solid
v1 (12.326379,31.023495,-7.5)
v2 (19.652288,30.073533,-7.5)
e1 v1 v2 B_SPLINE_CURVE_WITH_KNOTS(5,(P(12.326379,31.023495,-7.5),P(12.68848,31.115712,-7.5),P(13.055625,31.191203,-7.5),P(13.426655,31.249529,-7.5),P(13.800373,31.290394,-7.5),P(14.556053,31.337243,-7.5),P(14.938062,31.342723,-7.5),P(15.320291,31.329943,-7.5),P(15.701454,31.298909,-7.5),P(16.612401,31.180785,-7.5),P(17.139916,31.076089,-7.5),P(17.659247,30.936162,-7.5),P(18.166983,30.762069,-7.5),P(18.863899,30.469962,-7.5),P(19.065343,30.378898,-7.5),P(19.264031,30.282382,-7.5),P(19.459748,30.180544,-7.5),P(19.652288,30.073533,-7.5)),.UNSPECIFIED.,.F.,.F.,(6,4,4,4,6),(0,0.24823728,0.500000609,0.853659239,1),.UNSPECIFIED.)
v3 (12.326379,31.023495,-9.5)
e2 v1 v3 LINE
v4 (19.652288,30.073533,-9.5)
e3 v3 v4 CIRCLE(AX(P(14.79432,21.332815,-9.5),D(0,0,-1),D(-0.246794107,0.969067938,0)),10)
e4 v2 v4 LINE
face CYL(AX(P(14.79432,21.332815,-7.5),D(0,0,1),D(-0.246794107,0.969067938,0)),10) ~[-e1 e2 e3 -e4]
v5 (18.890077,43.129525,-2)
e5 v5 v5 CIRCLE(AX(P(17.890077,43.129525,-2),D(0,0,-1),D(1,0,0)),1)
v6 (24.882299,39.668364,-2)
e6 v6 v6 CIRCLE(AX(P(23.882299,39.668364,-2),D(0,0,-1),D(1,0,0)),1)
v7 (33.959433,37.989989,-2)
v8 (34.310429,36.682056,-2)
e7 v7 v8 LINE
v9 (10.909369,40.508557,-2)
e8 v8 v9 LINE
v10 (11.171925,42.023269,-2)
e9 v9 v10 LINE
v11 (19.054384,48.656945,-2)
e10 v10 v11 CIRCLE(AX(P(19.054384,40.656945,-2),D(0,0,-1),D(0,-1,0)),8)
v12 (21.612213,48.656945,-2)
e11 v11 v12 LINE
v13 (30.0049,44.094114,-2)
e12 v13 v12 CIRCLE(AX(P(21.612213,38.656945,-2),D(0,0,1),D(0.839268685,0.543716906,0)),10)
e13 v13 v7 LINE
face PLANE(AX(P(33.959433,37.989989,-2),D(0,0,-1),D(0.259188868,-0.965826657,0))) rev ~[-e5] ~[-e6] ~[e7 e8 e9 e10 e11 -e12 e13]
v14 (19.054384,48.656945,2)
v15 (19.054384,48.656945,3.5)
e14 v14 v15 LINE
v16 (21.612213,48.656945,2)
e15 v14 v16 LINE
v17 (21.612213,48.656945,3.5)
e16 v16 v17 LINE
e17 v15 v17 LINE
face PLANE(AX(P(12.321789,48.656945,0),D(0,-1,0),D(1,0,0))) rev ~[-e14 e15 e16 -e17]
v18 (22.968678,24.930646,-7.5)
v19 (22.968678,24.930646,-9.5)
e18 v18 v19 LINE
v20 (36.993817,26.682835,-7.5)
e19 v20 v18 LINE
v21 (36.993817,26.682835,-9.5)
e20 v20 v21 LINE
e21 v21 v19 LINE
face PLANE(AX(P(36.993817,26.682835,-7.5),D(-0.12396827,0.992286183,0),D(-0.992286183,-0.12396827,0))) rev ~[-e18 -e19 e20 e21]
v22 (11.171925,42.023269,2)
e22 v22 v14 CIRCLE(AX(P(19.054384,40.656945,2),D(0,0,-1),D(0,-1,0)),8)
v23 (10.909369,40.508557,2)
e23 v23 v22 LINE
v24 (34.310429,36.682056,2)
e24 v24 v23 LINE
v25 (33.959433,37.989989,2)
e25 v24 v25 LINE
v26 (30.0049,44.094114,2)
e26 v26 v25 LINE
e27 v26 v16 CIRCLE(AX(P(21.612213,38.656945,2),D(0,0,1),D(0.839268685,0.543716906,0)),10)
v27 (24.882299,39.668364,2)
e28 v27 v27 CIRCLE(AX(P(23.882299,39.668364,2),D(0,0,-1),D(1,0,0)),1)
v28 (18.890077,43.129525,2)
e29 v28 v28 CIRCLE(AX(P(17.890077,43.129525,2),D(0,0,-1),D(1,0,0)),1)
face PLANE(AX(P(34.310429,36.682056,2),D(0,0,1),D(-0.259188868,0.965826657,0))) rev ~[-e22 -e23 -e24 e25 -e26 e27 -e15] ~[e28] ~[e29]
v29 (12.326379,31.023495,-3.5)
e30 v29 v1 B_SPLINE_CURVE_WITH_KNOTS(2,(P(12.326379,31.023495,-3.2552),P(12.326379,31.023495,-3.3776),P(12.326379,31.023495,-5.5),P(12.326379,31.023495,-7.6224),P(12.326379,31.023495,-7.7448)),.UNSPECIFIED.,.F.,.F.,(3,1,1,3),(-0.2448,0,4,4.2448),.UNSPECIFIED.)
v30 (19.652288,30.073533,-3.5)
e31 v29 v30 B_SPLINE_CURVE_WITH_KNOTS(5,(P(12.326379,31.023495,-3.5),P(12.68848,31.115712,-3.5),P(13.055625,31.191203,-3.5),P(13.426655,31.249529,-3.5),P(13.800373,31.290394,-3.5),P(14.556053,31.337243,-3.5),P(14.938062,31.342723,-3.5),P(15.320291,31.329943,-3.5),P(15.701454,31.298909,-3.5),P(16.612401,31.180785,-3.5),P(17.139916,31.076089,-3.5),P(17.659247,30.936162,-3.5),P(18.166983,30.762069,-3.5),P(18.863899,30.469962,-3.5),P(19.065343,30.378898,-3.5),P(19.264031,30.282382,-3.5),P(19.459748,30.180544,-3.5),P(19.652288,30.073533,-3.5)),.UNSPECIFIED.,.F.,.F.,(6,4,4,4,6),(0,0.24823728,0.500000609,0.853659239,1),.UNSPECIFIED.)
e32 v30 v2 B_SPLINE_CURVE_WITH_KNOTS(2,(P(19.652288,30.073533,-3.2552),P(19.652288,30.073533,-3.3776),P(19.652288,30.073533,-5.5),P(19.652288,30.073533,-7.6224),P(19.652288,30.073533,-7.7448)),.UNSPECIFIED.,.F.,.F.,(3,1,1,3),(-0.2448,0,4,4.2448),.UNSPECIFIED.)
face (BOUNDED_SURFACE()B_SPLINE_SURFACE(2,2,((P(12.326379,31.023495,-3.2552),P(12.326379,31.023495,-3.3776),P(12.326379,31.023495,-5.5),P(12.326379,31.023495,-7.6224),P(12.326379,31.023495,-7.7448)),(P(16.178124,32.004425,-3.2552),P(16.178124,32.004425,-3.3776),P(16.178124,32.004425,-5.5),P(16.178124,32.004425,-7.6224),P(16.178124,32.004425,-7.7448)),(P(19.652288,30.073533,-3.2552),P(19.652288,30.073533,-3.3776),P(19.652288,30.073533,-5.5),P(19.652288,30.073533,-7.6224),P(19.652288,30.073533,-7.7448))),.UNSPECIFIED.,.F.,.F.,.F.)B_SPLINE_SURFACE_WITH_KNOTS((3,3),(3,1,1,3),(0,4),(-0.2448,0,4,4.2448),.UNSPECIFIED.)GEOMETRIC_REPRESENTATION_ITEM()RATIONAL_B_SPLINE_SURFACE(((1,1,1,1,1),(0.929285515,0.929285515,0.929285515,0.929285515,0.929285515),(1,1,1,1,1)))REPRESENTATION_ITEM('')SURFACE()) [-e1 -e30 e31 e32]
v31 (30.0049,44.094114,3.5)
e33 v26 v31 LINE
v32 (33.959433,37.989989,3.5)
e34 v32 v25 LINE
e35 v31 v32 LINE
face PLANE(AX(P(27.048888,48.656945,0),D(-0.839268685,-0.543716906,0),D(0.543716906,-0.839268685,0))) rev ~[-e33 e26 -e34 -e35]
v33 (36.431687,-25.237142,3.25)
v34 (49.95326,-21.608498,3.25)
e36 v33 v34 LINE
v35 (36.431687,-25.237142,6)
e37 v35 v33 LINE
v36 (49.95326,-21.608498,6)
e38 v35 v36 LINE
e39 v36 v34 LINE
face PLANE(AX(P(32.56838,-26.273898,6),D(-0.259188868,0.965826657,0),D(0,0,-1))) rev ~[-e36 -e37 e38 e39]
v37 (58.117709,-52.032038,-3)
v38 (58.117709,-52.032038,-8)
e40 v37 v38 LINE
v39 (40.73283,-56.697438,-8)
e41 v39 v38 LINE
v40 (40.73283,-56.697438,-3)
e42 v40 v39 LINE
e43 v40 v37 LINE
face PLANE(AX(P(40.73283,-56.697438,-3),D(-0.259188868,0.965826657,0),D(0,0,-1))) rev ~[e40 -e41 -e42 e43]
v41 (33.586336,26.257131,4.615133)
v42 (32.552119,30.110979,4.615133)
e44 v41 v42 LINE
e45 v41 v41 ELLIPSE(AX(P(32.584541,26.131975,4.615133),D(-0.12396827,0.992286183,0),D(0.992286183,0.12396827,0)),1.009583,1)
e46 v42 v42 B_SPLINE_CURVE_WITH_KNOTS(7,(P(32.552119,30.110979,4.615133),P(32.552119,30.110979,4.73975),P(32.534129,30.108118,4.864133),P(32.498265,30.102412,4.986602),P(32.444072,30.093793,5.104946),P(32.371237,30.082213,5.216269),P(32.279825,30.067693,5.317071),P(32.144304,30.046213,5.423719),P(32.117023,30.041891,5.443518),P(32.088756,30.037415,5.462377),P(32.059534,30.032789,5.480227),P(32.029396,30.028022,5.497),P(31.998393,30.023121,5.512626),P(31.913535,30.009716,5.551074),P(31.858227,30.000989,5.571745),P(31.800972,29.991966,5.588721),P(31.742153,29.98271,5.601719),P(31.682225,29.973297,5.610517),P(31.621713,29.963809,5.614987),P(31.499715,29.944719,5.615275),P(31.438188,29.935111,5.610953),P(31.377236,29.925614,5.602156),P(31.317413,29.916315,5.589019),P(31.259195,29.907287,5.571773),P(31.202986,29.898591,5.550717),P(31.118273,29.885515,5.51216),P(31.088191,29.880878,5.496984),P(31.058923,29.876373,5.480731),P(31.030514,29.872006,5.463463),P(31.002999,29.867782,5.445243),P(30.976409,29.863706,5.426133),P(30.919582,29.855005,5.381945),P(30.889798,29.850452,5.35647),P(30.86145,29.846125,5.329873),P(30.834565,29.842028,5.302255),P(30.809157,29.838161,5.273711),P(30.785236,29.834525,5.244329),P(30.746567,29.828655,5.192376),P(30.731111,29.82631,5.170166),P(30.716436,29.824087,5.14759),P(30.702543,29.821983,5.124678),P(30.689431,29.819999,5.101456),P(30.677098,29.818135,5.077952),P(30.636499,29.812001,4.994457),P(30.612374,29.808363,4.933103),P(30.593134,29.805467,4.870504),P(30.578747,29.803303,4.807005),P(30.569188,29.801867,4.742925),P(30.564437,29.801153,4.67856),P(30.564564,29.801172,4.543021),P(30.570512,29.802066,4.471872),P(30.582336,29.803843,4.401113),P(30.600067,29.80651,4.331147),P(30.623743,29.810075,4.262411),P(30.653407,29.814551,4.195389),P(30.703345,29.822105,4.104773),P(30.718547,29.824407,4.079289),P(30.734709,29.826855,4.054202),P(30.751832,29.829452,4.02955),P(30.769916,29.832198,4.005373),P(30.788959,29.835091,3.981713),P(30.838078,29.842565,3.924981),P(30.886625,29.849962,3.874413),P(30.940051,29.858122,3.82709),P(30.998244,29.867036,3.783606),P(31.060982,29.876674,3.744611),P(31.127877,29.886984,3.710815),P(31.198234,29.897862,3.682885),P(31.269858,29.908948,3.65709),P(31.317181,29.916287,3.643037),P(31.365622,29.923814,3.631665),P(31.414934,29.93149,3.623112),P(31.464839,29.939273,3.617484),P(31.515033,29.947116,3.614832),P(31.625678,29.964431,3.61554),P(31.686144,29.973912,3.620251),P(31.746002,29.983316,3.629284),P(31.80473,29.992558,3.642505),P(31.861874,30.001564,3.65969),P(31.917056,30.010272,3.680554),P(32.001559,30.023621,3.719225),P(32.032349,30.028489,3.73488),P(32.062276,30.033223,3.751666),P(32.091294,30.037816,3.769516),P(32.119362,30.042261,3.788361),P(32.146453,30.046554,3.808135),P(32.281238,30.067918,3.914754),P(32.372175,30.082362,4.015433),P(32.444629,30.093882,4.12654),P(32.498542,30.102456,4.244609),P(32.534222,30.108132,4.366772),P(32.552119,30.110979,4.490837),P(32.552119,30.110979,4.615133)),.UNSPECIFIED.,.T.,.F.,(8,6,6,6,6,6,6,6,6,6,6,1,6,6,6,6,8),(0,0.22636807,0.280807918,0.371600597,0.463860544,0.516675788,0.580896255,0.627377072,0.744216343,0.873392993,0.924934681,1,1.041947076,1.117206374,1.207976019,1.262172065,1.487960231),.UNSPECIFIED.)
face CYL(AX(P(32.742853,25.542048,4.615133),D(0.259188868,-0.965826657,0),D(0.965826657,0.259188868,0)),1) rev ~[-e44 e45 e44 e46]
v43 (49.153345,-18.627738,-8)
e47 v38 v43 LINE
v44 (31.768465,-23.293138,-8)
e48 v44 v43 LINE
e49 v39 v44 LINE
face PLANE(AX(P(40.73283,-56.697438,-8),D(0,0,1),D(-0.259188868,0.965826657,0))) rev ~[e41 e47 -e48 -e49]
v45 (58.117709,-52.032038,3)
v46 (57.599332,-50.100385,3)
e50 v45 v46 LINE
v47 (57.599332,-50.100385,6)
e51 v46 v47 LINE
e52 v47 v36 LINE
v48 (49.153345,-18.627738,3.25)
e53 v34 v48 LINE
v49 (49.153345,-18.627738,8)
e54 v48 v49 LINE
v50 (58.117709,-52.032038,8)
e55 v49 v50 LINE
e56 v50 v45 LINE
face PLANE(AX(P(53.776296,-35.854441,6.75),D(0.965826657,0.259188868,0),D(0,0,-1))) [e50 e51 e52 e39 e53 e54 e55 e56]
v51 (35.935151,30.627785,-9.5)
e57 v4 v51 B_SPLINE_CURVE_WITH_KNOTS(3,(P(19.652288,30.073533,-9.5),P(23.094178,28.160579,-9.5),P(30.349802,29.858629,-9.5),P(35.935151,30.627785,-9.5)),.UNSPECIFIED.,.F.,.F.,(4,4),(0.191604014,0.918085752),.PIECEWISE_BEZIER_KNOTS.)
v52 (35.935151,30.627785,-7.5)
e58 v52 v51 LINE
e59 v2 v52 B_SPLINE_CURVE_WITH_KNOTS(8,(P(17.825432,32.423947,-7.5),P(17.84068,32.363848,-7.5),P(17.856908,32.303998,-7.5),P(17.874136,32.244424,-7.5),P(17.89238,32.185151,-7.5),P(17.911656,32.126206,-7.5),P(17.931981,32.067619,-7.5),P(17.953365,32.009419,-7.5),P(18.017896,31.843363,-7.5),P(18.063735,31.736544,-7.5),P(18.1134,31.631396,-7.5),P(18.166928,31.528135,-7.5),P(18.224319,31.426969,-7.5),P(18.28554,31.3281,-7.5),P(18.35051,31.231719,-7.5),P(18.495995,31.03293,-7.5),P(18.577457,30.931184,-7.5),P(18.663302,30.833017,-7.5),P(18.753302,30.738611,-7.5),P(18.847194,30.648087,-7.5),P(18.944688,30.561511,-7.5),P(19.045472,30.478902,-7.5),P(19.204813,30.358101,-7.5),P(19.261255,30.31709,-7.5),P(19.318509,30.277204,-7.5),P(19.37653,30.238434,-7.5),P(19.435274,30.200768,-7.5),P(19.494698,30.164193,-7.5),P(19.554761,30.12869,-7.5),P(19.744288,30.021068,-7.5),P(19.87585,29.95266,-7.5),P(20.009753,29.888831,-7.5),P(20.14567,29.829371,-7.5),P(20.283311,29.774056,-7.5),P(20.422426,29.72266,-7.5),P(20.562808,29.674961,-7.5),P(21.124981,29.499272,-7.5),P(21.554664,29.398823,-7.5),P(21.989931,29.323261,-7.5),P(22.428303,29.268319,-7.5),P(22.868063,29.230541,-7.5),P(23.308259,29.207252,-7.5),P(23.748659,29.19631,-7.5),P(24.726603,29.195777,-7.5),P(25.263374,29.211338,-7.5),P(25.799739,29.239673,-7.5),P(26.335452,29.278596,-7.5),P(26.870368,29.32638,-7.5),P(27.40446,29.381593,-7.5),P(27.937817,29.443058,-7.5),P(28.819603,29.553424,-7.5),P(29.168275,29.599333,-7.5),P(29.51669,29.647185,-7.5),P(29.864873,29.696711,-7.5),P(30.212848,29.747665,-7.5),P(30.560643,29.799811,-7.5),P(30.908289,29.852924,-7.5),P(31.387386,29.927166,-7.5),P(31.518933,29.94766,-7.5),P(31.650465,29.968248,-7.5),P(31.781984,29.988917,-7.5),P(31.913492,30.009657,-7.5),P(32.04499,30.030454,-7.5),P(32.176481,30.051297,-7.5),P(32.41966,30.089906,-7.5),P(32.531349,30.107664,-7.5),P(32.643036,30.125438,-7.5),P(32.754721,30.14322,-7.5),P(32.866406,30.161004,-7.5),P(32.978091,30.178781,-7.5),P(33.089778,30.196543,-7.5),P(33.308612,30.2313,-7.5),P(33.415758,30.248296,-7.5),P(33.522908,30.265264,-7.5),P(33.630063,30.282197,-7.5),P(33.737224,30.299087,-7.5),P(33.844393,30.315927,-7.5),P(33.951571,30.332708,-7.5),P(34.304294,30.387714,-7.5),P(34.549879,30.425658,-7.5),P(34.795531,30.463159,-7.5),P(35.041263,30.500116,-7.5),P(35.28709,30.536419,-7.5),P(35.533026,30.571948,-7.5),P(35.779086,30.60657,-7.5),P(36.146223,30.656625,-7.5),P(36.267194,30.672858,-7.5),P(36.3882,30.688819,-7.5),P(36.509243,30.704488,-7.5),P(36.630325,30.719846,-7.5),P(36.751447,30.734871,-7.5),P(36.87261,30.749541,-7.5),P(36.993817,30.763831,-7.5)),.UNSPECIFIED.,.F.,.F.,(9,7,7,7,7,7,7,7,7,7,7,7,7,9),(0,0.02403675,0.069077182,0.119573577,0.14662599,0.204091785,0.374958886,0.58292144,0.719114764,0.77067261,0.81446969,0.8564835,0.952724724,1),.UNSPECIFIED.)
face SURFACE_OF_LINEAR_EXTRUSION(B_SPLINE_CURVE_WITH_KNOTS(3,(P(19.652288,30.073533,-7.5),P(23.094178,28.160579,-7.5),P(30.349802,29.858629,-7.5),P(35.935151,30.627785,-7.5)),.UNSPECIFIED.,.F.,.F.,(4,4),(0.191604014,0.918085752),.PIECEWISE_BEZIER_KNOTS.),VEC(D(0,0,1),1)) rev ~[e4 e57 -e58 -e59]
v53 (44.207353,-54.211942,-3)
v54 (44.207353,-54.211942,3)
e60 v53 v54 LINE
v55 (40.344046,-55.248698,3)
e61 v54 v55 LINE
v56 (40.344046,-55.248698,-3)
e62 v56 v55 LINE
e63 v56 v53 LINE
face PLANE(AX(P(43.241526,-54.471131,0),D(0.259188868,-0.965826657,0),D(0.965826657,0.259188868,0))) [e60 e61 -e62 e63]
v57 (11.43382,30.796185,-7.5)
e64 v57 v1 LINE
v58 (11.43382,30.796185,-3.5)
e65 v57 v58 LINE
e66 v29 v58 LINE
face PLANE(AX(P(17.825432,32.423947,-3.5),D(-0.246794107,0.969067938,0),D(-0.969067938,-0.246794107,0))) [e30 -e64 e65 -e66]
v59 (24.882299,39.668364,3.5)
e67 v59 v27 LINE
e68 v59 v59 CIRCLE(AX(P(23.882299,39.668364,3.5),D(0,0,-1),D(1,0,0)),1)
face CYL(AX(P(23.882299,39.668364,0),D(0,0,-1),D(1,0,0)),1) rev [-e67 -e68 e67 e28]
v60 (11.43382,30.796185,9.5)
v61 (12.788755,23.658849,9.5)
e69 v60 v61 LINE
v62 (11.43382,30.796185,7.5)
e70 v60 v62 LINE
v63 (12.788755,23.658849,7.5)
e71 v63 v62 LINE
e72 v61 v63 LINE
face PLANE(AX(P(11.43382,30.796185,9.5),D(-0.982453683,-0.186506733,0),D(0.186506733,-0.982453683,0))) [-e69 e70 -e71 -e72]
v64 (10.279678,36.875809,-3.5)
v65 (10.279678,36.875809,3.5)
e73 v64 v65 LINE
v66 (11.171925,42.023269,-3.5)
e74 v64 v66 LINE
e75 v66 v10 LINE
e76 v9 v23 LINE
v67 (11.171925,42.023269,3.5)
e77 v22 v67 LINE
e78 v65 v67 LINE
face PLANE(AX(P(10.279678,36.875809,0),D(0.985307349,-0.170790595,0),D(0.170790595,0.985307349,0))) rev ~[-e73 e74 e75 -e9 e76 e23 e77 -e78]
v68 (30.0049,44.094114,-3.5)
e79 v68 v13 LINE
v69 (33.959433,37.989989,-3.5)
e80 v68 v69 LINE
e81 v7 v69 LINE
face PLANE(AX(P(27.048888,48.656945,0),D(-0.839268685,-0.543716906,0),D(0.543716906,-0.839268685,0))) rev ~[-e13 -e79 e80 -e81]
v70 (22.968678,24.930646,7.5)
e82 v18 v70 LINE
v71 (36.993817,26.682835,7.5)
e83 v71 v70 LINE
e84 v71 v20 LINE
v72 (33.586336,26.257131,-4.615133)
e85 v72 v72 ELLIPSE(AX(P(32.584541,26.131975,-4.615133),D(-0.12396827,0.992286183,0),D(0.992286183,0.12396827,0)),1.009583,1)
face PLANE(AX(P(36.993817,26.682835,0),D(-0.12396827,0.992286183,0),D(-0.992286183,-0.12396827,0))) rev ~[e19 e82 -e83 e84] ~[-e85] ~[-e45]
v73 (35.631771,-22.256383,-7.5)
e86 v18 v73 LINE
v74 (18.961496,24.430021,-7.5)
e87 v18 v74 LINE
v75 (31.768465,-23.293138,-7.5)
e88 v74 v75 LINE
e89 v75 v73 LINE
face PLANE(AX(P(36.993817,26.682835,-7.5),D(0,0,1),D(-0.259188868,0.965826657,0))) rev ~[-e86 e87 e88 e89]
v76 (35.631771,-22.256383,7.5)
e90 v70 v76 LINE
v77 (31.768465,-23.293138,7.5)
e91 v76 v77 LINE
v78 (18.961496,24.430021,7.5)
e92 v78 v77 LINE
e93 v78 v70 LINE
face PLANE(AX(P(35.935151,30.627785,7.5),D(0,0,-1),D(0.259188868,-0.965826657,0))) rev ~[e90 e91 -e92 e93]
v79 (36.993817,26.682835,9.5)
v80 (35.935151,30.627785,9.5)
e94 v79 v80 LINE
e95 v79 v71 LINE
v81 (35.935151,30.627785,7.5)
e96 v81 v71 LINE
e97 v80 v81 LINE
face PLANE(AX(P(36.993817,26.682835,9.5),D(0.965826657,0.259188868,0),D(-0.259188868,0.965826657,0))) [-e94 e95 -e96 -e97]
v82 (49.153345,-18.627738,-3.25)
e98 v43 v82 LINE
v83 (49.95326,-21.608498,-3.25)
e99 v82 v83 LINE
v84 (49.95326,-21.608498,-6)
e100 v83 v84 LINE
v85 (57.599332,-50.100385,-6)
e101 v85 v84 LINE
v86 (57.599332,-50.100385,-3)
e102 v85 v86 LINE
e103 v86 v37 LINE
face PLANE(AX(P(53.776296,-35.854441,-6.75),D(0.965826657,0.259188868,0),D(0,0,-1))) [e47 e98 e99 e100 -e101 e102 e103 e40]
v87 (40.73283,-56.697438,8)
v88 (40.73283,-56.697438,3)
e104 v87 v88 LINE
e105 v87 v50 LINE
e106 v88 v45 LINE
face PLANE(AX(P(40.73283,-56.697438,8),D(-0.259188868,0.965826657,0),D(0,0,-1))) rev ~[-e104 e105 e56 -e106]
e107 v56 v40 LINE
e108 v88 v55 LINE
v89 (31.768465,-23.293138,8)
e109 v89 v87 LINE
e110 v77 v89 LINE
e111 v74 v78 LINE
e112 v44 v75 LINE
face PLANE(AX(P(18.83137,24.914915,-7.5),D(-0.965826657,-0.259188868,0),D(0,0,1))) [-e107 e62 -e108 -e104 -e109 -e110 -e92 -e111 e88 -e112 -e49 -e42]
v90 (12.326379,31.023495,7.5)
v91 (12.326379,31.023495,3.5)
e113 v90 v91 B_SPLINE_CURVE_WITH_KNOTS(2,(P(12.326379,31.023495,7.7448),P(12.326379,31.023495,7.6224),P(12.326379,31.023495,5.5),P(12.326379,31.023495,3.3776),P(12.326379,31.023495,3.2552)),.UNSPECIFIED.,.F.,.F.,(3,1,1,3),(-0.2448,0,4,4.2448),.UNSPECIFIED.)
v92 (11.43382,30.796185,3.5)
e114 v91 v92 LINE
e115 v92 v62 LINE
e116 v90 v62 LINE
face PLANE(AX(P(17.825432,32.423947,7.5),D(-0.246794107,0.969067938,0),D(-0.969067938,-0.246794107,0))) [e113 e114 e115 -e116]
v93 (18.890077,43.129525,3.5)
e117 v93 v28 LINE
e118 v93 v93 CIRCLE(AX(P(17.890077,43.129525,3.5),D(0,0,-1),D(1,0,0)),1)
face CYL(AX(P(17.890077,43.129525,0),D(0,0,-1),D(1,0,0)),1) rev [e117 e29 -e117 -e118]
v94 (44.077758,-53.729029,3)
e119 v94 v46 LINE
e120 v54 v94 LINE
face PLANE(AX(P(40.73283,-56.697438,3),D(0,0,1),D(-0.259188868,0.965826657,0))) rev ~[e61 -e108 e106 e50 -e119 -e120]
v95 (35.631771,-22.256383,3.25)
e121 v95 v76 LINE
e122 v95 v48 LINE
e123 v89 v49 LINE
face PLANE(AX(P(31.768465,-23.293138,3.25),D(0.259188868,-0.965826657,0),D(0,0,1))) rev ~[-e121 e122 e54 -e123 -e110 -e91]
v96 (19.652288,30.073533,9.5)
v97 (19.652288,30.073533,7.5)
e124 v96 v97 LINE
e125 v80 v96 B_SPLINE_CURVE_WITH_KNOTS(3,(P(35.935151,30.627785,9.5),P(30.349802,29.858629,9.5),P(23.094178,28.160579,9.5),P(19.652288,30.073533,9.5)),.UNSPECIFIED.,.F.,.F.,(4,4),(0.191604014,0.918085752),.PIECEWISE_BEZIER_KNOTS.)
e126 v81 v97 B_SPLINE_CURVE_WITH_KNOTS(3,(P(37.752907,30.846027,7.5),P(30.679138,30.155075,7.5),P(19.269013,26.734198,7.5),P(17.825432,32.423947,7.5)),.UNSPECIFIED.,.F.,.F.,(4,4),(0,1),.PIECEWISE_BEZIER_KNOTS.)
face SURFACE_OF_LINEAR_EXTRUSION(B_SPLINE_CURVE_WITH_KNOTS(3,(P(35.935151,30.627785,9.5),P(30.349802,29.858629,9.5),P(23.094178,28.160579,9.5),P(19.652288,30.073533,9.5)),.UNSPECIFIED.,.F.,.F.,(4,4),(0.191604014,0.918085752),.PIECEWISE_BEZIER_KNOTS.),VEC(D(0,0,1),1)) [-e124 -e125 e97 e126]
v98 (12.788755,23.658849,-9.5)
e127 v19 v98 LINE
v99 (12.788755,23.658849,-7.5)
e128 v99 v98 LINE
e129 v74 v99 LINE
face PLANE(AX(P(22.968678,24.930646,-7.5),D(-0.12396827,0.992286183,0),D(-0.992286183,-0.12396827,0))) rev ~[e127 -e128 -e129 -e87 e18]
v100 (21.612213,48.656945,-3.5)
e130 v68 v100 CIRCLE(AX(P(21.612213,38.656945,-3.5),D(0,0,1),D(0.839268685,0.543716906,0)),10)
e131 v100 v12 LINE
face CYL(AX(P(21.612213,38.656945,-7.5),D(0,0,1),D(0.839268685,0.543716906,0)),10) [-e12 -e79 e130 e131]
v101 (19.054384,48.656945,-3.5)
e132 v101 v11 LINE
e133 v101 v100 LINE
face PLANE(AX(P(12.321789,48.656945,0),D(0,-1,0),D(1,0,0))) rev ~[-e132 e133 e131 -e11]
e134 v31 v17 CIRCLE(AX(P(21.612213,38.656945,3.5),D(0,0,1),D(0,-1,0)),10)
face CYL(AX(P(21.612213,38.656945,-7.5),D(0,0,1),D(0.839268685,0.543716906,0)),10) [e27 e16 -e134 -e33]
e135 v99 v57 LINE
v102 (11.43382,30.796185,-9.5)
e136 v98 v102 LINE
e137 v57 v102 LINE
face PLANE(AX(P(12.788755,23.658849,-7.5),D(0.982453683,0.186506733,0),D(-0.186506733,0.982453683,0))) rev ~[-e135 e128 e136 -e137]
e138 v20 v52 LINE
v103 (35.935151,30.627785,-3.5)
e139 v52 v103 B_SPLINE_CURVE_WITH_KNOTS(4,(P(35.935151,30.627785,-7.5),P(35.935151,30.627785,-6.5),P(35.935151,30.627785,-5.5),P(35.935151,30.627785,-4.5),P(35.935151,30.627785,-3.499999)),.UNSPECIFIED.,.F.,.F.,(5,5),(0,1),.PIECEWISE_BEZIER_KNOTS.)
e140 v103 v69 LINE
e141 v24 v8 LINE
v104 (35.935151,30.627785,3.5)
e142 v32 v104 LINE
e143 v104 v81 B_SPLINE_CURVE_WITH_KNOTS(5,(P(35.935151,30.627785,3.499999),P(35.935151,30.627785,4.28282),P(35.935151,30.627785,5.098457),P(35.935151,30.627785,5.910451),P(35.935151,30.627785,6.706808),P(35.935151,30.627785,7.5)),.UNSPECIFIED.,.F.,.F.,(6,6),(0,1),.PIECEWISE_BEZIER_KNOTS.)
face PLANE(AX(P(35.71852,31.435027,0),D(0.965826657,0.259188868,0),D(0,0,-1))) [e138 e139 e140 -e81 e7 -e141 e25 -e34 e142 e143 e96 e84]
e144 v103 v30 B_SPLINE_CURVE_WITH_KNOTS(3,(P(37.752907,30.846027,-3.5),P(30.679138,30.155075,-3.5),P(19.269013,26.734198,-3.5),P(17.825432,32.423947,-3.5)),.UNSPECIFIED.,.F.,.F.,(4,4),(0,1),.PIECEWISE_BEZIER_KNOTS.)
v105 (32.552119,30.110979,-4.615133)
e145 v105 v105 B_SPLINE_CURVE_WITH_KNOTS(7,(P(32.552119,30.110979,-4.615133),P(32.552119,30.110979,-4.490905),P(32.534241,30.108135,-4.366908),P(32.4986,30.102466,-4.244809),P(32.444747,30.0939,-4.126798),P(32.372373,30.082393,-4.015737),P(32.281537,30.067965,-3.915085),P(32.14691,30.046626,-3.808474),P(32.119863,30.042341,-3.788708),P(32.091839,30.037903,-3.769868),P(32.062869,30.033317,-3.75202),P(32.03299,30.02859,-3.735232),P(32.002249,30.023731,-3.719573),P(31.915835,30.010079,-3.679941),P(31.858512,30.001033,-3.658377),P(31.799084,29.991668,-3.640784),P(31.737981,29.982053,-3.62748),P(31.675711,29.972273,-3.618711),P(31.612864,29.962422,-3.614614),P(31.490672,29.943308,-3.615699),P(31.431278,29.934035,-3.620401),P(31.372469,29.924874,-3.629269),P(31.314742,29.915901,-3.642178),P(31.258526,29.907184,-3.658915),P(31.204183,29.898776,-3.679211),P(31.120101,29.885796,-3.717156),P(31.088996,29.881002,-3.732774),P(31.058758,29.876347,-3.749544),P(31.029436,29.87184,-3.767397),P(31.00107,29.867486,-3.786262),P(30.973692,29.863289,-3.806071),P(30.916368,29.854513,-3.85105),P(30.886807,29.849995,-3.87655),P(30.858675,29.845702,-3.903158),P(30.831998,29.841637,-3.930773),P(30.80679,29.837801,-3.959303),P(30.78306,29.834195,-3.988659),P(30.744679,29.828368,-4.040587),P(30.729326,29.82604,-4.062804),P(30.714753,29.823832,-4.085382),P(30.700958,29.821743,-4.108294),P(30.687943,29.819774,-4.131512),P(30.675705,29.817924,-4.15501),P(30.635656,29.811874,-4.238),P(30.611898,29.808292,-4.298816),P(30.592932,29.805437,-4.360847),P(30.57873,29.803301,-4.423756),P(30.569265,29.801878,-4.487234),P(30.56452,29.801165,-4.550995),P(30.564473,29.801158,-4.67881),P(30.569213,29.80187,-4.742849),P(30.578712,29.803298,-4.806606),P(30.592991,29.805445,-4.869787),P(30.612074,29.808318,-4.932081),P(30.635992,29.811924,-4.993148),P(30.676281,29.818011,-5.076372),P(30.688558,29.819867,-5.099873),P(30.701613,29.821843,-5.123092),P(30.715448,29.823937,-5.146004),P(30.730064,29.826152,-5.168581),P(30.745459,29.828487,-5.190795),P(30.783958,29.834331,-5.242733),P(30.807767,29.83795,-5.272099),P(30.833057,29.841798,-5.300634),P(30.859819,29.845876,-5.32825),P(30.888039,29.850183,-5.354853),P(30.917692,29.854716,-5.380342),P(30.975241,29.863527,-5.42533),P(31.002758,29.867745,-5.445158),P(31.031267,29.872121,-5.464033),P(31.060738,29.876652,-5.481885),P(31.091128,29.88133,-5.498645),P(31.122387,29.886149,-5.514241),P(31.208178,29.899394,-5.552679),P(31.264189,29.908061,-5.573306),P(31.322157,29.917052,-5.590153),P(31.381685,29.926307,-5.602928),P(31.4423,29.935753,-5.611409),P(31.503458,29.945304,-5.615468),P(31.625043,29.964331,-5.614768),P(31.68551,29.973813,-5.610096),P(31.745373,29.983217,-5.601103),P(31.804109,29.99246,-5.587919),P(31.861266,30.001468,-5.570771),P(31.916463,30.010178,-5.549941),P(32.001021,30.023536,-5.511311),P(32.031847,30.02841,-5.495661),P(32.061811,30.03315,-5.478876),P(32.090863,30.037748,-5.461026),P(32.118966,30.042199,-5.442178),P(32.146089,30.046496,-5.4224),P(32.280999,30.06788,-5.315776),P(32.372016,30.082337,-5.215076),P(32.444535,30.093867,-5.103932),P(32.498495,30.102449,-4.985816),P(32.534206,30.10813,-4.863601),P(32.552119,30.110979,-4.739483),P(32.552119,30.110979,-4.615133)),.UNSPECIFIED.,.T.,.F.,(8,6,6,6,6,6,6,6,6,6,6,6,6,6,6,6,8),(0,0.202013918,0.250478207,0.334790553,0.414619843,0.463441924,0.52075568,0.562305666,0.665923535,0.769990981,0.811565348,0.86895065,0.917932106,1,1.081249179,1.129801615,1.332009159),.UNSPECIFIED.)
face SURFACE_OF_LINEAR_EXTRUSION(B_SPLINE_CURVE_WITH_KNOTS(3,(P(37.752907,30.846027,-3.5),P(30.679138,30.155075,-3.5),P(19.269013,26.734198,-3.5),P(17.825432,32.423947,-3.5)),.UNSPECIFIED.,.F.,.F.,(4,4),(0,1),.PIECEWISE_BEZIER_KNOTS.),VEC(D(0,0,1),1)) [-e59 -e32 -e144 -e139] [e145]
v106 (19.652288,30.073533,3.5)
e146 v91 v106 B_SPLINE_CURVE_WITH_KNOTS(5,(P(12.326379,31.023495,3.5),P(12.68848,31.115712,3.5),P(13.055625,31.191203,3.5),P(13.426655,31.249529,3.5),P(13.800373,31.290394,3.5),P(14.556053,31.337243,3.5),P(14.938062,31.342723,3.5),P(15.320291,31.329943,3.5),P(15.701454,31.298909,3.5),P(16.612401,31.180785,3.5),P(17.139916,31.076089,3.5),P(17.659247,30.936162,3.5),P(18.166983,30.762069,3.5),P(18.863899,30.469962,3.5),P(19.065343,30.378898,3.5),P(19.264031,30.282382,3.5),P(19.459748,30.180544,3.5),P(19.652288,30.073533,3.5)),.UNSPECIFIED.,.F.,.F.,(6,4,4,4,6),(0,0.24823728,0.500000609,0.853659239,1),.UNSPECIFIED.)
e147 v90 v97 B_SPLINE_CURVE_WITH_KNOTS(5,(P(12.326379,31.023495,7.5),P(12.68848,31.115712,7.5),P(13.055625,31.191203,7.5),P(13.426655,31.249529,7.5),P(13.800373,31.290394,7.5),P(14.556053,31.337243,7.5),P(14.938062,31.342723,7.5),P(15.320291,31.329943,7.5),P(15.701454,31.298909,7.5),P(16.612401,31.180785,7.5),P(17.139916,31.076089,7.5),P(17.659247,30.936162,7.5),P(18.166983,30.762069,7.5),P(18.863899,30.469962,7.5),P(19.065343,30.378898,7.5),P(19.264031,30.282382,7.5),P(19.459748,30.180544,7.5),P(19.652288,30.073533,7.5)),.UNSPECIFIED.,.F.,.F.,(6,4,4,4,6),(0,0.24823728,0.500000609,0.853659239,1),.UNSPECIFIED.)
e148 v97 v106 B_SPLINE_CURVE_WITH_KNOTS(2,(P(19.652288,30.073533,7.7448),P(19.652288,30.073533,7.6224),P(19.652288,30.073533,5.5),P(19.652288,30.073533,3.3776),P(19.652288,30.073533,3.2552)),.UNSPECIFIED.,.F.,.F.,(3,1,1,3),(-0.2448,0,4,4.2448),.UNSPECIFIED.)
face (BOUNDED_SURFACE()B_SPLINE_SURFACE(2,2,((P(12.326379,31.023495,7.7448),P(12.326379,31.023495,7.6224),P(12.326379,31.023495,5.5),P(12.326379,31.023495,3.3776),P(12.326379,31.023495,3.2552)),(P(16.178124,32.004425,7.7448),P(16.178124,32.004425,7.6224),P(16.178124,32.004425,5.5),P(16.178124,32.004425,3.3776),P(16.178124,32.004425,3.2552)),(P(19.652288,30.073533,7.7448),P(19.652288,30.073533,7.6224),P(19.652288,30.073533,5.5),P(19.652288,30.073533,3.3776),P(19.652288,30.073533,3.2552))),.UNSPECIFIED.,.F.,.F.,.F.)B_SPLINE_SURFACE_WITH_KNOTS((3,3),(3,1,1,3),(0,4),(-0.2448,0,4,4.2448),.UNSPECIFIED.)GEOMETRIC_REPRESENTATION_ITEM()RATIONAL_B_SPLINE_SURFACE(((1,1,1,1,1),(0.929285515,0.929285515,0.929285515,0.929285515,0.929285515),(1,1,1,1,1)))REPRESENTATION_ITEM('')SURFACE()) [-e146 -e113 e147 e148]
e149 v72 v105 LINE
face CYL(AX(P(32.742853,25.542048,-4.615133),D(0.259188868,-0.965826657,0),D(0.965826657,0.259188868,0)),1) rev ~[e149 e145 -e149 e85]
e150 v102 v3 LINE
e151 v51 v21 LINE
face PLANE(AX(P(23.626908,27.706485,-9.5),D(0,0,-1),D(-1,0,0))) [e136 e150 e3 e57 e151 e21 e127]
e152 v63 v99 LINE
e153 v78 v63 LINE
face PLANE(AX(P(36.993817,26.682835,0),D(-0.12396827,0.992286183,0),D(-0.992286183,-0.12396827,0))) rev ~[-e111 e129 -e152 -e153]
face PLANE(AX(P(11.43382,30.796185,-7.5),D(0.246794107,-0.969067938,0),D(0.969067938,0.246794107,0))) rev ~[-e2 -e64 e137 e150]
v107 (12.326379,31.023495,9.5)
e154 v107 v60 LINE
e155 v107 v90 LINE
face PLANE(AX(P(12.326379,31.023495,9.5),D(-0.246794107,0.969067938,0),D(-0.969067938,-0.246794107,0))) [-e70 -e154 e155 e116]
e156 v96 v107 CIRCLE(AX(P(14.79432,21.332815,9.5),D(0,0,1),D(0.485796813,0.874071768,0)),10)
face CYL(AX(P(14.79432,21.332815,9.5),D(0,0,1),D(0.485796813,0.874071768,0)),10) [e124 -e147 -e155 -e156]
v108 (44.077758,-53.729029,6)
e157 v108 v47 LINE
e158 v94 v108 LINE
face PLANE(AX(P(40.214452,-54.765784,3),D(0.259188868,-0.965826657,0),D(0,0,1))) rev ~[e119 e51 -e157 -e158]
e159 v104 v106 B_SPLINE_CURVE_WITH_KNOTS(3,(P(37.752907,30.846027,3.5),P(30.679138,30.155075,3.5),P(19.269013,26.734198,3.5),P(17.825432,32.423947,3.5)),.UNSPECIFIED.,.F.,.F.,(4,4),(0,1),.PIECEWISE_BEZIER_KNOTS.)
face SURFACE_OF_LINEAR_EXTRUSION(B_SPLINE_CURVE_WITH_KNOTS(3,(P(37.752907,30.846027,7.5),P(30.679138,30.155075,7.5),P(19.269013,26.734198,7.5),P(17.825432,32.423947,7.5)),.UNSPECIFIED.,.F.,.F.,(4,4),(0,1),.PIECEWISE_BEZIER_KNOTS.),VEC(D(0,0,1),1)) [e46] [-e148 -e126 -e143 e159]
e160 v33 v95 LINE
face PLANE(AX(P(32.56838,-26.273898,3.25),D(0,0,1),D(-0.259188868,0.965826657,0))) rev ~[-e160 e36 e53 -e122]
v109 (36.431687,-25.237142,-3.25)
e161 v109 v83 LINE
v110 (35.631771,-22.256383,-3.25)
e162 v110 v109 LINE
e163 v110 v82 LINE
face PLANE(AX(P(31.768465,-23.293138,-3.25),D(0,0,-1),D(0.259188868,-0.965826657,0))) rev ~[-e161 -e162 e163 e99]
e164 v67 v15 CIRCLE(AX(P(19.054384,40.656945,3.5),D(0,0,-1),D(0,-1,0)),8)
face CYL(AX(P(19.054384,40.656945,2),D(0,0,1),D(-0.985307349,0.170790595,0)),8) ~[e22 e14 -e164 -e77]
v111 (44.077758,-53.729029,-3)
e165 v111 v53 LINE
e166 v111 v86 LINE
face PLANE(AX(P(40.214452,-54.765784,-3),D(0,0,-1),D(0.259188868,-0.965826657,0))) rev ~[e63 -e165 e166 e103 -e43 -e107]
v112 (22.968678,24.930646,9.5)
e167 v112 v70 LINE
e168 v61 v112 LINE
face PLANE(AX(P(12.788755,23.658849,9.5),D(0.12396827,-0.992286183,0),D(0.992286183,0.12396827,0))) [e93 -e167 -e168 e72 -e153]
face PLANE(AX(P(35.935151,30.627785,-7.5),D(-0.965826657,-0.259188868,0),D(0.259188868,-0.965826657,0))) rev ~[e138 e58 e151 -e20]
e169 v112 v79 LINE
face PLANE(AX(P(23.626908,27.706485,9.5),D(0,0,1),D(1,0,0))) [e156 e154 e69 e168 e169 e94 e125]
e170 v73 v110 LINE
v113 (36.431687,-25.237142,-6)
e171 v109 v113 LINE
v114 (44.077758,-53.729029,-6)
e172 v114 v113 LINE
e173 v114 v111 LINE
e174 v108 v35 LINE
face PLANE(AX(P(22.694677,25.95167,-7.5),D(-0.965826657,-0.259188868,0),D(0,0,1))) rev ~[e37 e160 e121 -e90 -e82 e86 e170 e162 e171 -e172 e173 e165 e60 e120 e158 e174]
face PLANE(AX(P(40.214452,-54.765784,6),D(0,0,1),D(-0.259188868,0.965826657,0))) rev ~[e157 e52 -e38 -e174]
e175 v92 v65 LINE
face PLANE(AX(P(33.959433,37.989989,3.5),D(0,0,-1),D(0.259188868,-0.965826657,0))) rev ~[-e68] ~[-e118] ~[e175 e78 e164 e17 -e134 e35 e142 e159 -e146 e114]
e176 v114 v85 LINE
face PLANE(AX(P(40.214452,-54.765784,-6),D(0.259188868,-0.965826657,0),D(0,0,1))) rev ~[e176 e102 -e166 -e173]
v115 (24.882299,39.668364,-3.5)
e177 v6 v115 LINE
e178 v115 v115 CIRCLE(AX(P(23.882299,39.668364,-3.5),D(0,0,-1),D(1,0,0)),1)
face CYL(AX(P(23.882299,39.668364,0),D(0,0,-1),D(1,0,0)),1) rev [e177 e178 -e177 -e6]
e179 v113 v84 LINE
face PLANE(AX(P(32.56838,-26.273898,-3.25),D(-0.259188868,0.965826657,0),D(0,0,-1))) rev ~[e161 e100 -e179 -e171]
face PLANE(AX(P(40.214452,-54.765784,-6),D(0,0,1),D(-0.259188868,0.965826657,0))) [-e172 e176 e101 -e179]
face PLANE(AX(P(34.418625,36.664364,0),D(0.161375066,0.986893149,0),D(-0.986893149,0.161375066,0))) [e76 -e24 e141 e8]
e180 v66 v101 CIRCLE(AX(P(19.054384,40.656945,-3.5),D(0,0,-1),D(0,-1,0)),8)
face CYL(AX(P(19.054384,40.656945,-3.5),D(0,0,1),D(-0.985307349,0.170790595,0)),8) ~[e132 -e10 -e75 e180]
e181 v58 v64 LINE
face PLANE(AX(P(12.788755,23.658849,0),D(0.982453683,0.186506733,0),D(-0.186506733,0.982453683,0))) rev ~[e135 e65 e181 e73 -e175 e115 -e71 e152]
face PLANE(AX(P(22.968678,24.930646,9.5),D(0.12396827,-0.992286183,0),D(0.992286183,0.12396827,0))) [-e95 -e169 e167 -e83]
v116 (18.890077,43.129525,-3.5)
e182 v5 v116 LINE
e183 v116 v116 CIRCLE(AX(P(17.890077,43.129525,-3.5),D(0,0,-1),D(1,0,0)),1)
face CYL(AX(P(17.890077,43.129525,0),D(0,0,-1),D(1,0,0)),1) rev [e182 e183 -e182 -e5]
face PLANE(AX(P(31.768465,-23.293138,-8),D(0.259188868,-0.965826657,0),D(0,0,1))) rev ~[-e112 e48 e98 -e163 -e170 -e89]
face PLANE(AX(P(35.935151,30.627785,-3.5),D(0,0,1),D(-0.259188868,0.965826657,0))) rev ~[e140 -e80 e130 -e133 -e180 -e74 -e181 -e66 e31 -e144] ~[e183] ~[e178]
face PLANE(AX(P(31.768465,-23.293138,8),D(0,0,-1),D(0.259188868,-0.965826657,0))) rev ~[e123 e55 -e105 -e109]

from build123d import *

# Parameters (mm, degrees)
SKETCH10_R                = 1
BOSS_EXTRUDE5_DEPTH       = 7.5
CUT_EXTRUDE1_DEPTH        = 4
FILLET1_R                 = 10
CUT_EXTRUDE6_START        = -11
CUT_EXTRUDE6_DEPTH        = 10
CUT_EXTRUDE7_DEPTH        = 2
BOSS_EXTRUDE11_DEPTH      = 9
SKETCH28_R                = 1
CUT_EXTRUDE8_DEPTH        = 9
BOSS_EXTRUDE13_DEPTH      = 80
BOSS_EXTRUDE13_DEPTH_BACK = 3
SKETCH30_W                = 4
SKETCH30_H                = 15
BOSS_EXTRUDE14_DEPTH      = 14
BOSS_EXTRUDE14_DEPTH_BACK = 4
CUT_EXTRUDE9_DEPTH        = 9
FILLET2_R                 = 8
FILLET3_R                 = 10
BOSS_EXTRUDE15_DEPTH      = 2
BOSS_EXTRUDE16_START      = 2
BOSS_EXTRUDE16_DEPTH      = 2


with BuildPart() as part:
    # Sketch10 → Boss-Extrude5 (new, symmetric)
    with BuildSketch(Plane.XY):
        Polygon((27.048887868, 48.656944563), (33.959433176, 37.989988632), (36.993816658, 26.682834617), (12.788755024, 23.658848526), (10.279677841, 36.875809012), (12.321789019, 48.656944563), align=None)
        with Locations((17.890076876, 43.12952492)):
            Circle(SKETCH10_R, mode=Mode.SUBTRACT)
        with Locations((23.882298789, 39.668364252)):
            Circle(SKETCH10_R, mode=Mode.SUBTRACT)
    extrude(amount=BOSS_EXTRUDE5_DEPTH, both=True)

    # Sketch11 → Cut-Extrude1 (cut)
    with BuildSketch(Plane.XY.offset(7.5)):
        with BuildLine():
            Line((17.825431655, 32.423947427), (9.123881611, 30.207909529))
            Line((9.123881611, 30.207909529), (6.594316119, 53.15991455))
            Line((6.594316119, 53.15991455), (34.693470887, 60.271659822))
            Line((34.693470887, 60.271659822), (37.752907488, 30.846026516))
            add(Edge.make_bspline(
                [(37.752907488, 30.846026516), (30.679137573, 30.15507536), (19.269012528, 26.734198276), (17.825431655, 32.423947427)],
                knots=[0, 0, 0, 0, 1, 1, 1, 1], degree=3))
        make_face()
    extrude(amount=-CUT_EXTRUDE1_DEPTH, mode=Mode.SUBTRACT)

    # Fillet1
    fillet1_edges = [part.edges().sort_by_distance(p)[0] for p in [
        (27.048887868, 48.656944563, -2),
    ]]
    fillet(fillet1_edges, radius=FILLET1_R)

    # Sketch11<2> → Cut-Extrude6 (cut)
    with BuildSketch(Plane.XY.offset(7.5).offset(CUT_EXTRUDE6_START)):
        with BuildLine():
            Line((17.825431655, 32.423947427), (9.123881611, 30.207909529))
            Line((9.123881611, 30.207909529), (6.594316119, 53.15991455))
            Line((6.594316119, 53.15991455), (34.693470887, 60.271659822))
            Line((34.693470887, 60.271659822), (37.752907488, 30.846026516))
            add(Edge.make_bspline(
                [(37.752907488, 30.846026516), (30.679137573, 30.15507536), (19.269012528, 26.734198276), (17.825431655, 32.423947427)],
                knots=[0, 0, 0, 0, 1, 1, 1, 1], degree=3))
        make_face()
    extrude(amount=-CUT_EXTRUDE6_DEPTH, mode=Mode.SUBTRACT)

    # Sketch16 → Cut-Extrude7 (cut, symmetric)
    with BuildSketch(Plane.XY):
        Polygon((10.074284509, 54.36084815), (34.418624568, 54.36084815), (34.418624568, 36.664364271), (10.074284509, 40.645108775), align=None)
    extrude(amount=CUT_EXTRUDE7_DEPTH, both=True, mode=Mode.SUBTRACT)

    # Sketch26 → Boss-Extrude11 (add)
    with BuildSketch(Plane(origin=(41.188168375, 11.053240949, 0), x_dir=(0, 0, -1), z_dir=(0.9658266565657433, 0.2591888683316433, 0))):
        Polygon((2, 27.88983665), (2, 26.535626274), (-2, 26.535626274), (-2, 27.88983665), (-3.5, 27.88983665), (-3.5, 20.267140373), (-7.5, 20.267140373), (-7.5, 16.182607471), (7.5, 16.182607471), (7.5, 20.267140372), (3.5, 20.267140373), (3.5, 27.88983665), align=None)
    extrude(amount=BOSS_EXTRUDE11_DEPTH)

    # Sketch28 → Cut-Extrude8 (cut)
    with BuildSketch(Plane(origin=(-4.194351717, 15.629593668, 0), x_dir=(0.9658266565657433, 0.25918886833164334, 0), z_dir=(0.25918886833164334, -0.9658266565657433, 0))):
        with Locations((38.244135106, 4.615132599)):
            Circle(SKETCH28_R)
        with Locations((38.244135106, -4.615132599)):
            Circle(SKETCH28_R)
    extrude(amount=-CUT_EXTRUDE8_DEPTH, mode=Mode.SUBTRACT)

    # Sketch30 → Boss-Extrude13 (add, two sides: drawn at the far end of the back side and taken through both)
    with BuildSketch(Plane(origin=(-4.194351717, 15.629593668, 0), x_dir=(0.9658266565657433, 0.25918886833164334, 0), z_dir=(0.25918886833164334, -0.9658266565657433, 0)).offset(-BOSS_EXTRUDE13_DEPTH_BACK)):
        with Locations((26.645507965, 0)):
            Rectangle(SKETCH30_W, SKETCH30_H)
    extrude(amount=BOSS_EXTRUDE13_DEPTH + BOSS_EXTRUDE13_DEPTH_BACK)

    # Sketch31 → Boss-Extrude14 (add, two sides: drawn at the far end of the back side and taken through both)
    with BuildSketch(Plane(origin=(27.666595183, 7.424596792, 0), x_dir=(0, 0, -1), z_dir=(0.9658266565657432, 0.2591888683316434, 0)).offset(-BOSS_EXTRUDE14_DEPTH_BACK)):
        Polygon((-3.25, -30.731166129), (-8, -30.731166129), (-8, -65.317392529), (-3, -65.317392529), (-3, -63.317392529), (-6, -63.317392529), (-6, -33.817392529), (-3.25, -33.817392529), align=None)
        Polygon((3, -63.317392529), (3, -65.317392529), (8, -65.317392529), (8, -30.731166129), (3.25, -30.731166129), (3.25, -33.817392529), (6, -33.817392529), (6, -63.317392529), align=None)
    extrude(amount=BOSS_EXTRUDE14_DEPTH + BOSS_EXTRUDE14_DEPTH_BACK)

    # Sketch32 → Cut-Extrude9 (cut)
    with BuildSketch(Plane(origin=(49.880608284, 13.385940764, 0), x_dir=(0, 0, -1), z_dir=(0.9658266565657431, 0.25918886833164445, 0))):
        Polygon((3.5, 27.88983665), (2, 27.88983665), (2, 26.535626274), (-2, 26.535626274), (-2, 27.88983665), (-3.5, 27.88983665), (-3.5, 20.267140373), (-7.5, 20.267140373), (-7.5, 16.182607471), (7.5, 16.182607471), (7.5, 20.267140372), (3.5, 20.267140373), align=None)
    extrude(amount=-CUT_EXTRUDE9_DEPTH, mode=Mode.SUBTRACT)

    # Fillet2
    fillet2_edges = [part.edges().sort_by_distance(p)[0] for p in [
        (12.321789019, 48.656944563, 2.75),
        (12.321789019, 48.656944563, -2.75),
    ]]
    fillet(fillet2_edges, radius=FILLET2_R)

    # Fillet3
    fillet3_edges = [part.edges().sort_by_distance(p)[0] for p in [
        (17.825431655, 32.423947427, 5.5),
        (17.825431655, 32.423947427, -5.5),
    ]]
    fillet(fillet3_edges, radius=FILLET3_R)

    # Sketch33 → Boss-Extrude15 (add)
    with BuildSketch(Plane(origin=(0, 0, -7.5), x_dir=(-1, 0, 0), z_dir=(0, 0, -1))):
        with BuildLine():
            Line((-11.433819556, 30.796185182), (-12.326379112, 31.023494775))
            ThreePointArc((-12.326379112, 31.023494775), (-16.080268918, 31.249787506), (-19.652288318, 30.073533078))
            add(Edge.make_bspline(
                [(-19.652288318, 30.073533078), (-23.094178016, 28.160579122), (-30.349802092, 29.858629099), (-35.935151197, 30.627785373)],
                knots=[0.191604014, 0.191604014, 0.191604014, 0.191604014, 0.918085752, 0.918085752, 0.918085752, 0.918085752], degree=3))
            Line((-35.935151197, 30.627785373), (-36.993816658, 26.682834617))
            Line((-36.993816658, 26.682834617), (-22.968678464, 24.93064644))
            Line((-22.968678464, 24.93064644), (-12.788755024, 23.658848526))
            Line((-12.788755024, 23.658848526), (-11.433819556, 30.796185182))
        make_face()
    extrude(amount=BOSS_EXTRUDE15_DEPTH)

    # Sketch34 → Boss-Extrude16 (add)
    with BuildSketch(Plane.XY.offset(7.5).offset(BOSS_EXTRUDE16_START)):
        with BuildLine():
            Line((12.326379112, 31.023494775), (11.433819556, 30.796185182))
            Line((11.433819556, 30.796185182), (12.788755024, 23.658848526))
            Line((12.788755024, 23.658848526), (22.968678464, 24.93064644))
            Line((22.968678464, 24.93064644), (36.993816658, 26.682834617))
            Line((36.993816658, 26.682834617), (35.935151197, 30.627785373))
            add(Edge.make_bspline(
                [(35.935151197, 30.627785373), (30.349802091, 29.858629099), (23.094178016, 28.160579122), (19.652288318, 30.073533078)],
                knots=[0.191604014, 0.191604014, 0.191604014, 0.191604014, 0.918085752, 0.918085752, 0.918085752, 0.918085752], degree=3))
            ThreePointArc((19.652288318, 30.073533078), (16.080268918, 31.249787506), (12.326379112, 31.023494775))
        make_face()
    extrude(amount=-BOSS_EXTRUDE16_DEPTH)


solid = part.part
